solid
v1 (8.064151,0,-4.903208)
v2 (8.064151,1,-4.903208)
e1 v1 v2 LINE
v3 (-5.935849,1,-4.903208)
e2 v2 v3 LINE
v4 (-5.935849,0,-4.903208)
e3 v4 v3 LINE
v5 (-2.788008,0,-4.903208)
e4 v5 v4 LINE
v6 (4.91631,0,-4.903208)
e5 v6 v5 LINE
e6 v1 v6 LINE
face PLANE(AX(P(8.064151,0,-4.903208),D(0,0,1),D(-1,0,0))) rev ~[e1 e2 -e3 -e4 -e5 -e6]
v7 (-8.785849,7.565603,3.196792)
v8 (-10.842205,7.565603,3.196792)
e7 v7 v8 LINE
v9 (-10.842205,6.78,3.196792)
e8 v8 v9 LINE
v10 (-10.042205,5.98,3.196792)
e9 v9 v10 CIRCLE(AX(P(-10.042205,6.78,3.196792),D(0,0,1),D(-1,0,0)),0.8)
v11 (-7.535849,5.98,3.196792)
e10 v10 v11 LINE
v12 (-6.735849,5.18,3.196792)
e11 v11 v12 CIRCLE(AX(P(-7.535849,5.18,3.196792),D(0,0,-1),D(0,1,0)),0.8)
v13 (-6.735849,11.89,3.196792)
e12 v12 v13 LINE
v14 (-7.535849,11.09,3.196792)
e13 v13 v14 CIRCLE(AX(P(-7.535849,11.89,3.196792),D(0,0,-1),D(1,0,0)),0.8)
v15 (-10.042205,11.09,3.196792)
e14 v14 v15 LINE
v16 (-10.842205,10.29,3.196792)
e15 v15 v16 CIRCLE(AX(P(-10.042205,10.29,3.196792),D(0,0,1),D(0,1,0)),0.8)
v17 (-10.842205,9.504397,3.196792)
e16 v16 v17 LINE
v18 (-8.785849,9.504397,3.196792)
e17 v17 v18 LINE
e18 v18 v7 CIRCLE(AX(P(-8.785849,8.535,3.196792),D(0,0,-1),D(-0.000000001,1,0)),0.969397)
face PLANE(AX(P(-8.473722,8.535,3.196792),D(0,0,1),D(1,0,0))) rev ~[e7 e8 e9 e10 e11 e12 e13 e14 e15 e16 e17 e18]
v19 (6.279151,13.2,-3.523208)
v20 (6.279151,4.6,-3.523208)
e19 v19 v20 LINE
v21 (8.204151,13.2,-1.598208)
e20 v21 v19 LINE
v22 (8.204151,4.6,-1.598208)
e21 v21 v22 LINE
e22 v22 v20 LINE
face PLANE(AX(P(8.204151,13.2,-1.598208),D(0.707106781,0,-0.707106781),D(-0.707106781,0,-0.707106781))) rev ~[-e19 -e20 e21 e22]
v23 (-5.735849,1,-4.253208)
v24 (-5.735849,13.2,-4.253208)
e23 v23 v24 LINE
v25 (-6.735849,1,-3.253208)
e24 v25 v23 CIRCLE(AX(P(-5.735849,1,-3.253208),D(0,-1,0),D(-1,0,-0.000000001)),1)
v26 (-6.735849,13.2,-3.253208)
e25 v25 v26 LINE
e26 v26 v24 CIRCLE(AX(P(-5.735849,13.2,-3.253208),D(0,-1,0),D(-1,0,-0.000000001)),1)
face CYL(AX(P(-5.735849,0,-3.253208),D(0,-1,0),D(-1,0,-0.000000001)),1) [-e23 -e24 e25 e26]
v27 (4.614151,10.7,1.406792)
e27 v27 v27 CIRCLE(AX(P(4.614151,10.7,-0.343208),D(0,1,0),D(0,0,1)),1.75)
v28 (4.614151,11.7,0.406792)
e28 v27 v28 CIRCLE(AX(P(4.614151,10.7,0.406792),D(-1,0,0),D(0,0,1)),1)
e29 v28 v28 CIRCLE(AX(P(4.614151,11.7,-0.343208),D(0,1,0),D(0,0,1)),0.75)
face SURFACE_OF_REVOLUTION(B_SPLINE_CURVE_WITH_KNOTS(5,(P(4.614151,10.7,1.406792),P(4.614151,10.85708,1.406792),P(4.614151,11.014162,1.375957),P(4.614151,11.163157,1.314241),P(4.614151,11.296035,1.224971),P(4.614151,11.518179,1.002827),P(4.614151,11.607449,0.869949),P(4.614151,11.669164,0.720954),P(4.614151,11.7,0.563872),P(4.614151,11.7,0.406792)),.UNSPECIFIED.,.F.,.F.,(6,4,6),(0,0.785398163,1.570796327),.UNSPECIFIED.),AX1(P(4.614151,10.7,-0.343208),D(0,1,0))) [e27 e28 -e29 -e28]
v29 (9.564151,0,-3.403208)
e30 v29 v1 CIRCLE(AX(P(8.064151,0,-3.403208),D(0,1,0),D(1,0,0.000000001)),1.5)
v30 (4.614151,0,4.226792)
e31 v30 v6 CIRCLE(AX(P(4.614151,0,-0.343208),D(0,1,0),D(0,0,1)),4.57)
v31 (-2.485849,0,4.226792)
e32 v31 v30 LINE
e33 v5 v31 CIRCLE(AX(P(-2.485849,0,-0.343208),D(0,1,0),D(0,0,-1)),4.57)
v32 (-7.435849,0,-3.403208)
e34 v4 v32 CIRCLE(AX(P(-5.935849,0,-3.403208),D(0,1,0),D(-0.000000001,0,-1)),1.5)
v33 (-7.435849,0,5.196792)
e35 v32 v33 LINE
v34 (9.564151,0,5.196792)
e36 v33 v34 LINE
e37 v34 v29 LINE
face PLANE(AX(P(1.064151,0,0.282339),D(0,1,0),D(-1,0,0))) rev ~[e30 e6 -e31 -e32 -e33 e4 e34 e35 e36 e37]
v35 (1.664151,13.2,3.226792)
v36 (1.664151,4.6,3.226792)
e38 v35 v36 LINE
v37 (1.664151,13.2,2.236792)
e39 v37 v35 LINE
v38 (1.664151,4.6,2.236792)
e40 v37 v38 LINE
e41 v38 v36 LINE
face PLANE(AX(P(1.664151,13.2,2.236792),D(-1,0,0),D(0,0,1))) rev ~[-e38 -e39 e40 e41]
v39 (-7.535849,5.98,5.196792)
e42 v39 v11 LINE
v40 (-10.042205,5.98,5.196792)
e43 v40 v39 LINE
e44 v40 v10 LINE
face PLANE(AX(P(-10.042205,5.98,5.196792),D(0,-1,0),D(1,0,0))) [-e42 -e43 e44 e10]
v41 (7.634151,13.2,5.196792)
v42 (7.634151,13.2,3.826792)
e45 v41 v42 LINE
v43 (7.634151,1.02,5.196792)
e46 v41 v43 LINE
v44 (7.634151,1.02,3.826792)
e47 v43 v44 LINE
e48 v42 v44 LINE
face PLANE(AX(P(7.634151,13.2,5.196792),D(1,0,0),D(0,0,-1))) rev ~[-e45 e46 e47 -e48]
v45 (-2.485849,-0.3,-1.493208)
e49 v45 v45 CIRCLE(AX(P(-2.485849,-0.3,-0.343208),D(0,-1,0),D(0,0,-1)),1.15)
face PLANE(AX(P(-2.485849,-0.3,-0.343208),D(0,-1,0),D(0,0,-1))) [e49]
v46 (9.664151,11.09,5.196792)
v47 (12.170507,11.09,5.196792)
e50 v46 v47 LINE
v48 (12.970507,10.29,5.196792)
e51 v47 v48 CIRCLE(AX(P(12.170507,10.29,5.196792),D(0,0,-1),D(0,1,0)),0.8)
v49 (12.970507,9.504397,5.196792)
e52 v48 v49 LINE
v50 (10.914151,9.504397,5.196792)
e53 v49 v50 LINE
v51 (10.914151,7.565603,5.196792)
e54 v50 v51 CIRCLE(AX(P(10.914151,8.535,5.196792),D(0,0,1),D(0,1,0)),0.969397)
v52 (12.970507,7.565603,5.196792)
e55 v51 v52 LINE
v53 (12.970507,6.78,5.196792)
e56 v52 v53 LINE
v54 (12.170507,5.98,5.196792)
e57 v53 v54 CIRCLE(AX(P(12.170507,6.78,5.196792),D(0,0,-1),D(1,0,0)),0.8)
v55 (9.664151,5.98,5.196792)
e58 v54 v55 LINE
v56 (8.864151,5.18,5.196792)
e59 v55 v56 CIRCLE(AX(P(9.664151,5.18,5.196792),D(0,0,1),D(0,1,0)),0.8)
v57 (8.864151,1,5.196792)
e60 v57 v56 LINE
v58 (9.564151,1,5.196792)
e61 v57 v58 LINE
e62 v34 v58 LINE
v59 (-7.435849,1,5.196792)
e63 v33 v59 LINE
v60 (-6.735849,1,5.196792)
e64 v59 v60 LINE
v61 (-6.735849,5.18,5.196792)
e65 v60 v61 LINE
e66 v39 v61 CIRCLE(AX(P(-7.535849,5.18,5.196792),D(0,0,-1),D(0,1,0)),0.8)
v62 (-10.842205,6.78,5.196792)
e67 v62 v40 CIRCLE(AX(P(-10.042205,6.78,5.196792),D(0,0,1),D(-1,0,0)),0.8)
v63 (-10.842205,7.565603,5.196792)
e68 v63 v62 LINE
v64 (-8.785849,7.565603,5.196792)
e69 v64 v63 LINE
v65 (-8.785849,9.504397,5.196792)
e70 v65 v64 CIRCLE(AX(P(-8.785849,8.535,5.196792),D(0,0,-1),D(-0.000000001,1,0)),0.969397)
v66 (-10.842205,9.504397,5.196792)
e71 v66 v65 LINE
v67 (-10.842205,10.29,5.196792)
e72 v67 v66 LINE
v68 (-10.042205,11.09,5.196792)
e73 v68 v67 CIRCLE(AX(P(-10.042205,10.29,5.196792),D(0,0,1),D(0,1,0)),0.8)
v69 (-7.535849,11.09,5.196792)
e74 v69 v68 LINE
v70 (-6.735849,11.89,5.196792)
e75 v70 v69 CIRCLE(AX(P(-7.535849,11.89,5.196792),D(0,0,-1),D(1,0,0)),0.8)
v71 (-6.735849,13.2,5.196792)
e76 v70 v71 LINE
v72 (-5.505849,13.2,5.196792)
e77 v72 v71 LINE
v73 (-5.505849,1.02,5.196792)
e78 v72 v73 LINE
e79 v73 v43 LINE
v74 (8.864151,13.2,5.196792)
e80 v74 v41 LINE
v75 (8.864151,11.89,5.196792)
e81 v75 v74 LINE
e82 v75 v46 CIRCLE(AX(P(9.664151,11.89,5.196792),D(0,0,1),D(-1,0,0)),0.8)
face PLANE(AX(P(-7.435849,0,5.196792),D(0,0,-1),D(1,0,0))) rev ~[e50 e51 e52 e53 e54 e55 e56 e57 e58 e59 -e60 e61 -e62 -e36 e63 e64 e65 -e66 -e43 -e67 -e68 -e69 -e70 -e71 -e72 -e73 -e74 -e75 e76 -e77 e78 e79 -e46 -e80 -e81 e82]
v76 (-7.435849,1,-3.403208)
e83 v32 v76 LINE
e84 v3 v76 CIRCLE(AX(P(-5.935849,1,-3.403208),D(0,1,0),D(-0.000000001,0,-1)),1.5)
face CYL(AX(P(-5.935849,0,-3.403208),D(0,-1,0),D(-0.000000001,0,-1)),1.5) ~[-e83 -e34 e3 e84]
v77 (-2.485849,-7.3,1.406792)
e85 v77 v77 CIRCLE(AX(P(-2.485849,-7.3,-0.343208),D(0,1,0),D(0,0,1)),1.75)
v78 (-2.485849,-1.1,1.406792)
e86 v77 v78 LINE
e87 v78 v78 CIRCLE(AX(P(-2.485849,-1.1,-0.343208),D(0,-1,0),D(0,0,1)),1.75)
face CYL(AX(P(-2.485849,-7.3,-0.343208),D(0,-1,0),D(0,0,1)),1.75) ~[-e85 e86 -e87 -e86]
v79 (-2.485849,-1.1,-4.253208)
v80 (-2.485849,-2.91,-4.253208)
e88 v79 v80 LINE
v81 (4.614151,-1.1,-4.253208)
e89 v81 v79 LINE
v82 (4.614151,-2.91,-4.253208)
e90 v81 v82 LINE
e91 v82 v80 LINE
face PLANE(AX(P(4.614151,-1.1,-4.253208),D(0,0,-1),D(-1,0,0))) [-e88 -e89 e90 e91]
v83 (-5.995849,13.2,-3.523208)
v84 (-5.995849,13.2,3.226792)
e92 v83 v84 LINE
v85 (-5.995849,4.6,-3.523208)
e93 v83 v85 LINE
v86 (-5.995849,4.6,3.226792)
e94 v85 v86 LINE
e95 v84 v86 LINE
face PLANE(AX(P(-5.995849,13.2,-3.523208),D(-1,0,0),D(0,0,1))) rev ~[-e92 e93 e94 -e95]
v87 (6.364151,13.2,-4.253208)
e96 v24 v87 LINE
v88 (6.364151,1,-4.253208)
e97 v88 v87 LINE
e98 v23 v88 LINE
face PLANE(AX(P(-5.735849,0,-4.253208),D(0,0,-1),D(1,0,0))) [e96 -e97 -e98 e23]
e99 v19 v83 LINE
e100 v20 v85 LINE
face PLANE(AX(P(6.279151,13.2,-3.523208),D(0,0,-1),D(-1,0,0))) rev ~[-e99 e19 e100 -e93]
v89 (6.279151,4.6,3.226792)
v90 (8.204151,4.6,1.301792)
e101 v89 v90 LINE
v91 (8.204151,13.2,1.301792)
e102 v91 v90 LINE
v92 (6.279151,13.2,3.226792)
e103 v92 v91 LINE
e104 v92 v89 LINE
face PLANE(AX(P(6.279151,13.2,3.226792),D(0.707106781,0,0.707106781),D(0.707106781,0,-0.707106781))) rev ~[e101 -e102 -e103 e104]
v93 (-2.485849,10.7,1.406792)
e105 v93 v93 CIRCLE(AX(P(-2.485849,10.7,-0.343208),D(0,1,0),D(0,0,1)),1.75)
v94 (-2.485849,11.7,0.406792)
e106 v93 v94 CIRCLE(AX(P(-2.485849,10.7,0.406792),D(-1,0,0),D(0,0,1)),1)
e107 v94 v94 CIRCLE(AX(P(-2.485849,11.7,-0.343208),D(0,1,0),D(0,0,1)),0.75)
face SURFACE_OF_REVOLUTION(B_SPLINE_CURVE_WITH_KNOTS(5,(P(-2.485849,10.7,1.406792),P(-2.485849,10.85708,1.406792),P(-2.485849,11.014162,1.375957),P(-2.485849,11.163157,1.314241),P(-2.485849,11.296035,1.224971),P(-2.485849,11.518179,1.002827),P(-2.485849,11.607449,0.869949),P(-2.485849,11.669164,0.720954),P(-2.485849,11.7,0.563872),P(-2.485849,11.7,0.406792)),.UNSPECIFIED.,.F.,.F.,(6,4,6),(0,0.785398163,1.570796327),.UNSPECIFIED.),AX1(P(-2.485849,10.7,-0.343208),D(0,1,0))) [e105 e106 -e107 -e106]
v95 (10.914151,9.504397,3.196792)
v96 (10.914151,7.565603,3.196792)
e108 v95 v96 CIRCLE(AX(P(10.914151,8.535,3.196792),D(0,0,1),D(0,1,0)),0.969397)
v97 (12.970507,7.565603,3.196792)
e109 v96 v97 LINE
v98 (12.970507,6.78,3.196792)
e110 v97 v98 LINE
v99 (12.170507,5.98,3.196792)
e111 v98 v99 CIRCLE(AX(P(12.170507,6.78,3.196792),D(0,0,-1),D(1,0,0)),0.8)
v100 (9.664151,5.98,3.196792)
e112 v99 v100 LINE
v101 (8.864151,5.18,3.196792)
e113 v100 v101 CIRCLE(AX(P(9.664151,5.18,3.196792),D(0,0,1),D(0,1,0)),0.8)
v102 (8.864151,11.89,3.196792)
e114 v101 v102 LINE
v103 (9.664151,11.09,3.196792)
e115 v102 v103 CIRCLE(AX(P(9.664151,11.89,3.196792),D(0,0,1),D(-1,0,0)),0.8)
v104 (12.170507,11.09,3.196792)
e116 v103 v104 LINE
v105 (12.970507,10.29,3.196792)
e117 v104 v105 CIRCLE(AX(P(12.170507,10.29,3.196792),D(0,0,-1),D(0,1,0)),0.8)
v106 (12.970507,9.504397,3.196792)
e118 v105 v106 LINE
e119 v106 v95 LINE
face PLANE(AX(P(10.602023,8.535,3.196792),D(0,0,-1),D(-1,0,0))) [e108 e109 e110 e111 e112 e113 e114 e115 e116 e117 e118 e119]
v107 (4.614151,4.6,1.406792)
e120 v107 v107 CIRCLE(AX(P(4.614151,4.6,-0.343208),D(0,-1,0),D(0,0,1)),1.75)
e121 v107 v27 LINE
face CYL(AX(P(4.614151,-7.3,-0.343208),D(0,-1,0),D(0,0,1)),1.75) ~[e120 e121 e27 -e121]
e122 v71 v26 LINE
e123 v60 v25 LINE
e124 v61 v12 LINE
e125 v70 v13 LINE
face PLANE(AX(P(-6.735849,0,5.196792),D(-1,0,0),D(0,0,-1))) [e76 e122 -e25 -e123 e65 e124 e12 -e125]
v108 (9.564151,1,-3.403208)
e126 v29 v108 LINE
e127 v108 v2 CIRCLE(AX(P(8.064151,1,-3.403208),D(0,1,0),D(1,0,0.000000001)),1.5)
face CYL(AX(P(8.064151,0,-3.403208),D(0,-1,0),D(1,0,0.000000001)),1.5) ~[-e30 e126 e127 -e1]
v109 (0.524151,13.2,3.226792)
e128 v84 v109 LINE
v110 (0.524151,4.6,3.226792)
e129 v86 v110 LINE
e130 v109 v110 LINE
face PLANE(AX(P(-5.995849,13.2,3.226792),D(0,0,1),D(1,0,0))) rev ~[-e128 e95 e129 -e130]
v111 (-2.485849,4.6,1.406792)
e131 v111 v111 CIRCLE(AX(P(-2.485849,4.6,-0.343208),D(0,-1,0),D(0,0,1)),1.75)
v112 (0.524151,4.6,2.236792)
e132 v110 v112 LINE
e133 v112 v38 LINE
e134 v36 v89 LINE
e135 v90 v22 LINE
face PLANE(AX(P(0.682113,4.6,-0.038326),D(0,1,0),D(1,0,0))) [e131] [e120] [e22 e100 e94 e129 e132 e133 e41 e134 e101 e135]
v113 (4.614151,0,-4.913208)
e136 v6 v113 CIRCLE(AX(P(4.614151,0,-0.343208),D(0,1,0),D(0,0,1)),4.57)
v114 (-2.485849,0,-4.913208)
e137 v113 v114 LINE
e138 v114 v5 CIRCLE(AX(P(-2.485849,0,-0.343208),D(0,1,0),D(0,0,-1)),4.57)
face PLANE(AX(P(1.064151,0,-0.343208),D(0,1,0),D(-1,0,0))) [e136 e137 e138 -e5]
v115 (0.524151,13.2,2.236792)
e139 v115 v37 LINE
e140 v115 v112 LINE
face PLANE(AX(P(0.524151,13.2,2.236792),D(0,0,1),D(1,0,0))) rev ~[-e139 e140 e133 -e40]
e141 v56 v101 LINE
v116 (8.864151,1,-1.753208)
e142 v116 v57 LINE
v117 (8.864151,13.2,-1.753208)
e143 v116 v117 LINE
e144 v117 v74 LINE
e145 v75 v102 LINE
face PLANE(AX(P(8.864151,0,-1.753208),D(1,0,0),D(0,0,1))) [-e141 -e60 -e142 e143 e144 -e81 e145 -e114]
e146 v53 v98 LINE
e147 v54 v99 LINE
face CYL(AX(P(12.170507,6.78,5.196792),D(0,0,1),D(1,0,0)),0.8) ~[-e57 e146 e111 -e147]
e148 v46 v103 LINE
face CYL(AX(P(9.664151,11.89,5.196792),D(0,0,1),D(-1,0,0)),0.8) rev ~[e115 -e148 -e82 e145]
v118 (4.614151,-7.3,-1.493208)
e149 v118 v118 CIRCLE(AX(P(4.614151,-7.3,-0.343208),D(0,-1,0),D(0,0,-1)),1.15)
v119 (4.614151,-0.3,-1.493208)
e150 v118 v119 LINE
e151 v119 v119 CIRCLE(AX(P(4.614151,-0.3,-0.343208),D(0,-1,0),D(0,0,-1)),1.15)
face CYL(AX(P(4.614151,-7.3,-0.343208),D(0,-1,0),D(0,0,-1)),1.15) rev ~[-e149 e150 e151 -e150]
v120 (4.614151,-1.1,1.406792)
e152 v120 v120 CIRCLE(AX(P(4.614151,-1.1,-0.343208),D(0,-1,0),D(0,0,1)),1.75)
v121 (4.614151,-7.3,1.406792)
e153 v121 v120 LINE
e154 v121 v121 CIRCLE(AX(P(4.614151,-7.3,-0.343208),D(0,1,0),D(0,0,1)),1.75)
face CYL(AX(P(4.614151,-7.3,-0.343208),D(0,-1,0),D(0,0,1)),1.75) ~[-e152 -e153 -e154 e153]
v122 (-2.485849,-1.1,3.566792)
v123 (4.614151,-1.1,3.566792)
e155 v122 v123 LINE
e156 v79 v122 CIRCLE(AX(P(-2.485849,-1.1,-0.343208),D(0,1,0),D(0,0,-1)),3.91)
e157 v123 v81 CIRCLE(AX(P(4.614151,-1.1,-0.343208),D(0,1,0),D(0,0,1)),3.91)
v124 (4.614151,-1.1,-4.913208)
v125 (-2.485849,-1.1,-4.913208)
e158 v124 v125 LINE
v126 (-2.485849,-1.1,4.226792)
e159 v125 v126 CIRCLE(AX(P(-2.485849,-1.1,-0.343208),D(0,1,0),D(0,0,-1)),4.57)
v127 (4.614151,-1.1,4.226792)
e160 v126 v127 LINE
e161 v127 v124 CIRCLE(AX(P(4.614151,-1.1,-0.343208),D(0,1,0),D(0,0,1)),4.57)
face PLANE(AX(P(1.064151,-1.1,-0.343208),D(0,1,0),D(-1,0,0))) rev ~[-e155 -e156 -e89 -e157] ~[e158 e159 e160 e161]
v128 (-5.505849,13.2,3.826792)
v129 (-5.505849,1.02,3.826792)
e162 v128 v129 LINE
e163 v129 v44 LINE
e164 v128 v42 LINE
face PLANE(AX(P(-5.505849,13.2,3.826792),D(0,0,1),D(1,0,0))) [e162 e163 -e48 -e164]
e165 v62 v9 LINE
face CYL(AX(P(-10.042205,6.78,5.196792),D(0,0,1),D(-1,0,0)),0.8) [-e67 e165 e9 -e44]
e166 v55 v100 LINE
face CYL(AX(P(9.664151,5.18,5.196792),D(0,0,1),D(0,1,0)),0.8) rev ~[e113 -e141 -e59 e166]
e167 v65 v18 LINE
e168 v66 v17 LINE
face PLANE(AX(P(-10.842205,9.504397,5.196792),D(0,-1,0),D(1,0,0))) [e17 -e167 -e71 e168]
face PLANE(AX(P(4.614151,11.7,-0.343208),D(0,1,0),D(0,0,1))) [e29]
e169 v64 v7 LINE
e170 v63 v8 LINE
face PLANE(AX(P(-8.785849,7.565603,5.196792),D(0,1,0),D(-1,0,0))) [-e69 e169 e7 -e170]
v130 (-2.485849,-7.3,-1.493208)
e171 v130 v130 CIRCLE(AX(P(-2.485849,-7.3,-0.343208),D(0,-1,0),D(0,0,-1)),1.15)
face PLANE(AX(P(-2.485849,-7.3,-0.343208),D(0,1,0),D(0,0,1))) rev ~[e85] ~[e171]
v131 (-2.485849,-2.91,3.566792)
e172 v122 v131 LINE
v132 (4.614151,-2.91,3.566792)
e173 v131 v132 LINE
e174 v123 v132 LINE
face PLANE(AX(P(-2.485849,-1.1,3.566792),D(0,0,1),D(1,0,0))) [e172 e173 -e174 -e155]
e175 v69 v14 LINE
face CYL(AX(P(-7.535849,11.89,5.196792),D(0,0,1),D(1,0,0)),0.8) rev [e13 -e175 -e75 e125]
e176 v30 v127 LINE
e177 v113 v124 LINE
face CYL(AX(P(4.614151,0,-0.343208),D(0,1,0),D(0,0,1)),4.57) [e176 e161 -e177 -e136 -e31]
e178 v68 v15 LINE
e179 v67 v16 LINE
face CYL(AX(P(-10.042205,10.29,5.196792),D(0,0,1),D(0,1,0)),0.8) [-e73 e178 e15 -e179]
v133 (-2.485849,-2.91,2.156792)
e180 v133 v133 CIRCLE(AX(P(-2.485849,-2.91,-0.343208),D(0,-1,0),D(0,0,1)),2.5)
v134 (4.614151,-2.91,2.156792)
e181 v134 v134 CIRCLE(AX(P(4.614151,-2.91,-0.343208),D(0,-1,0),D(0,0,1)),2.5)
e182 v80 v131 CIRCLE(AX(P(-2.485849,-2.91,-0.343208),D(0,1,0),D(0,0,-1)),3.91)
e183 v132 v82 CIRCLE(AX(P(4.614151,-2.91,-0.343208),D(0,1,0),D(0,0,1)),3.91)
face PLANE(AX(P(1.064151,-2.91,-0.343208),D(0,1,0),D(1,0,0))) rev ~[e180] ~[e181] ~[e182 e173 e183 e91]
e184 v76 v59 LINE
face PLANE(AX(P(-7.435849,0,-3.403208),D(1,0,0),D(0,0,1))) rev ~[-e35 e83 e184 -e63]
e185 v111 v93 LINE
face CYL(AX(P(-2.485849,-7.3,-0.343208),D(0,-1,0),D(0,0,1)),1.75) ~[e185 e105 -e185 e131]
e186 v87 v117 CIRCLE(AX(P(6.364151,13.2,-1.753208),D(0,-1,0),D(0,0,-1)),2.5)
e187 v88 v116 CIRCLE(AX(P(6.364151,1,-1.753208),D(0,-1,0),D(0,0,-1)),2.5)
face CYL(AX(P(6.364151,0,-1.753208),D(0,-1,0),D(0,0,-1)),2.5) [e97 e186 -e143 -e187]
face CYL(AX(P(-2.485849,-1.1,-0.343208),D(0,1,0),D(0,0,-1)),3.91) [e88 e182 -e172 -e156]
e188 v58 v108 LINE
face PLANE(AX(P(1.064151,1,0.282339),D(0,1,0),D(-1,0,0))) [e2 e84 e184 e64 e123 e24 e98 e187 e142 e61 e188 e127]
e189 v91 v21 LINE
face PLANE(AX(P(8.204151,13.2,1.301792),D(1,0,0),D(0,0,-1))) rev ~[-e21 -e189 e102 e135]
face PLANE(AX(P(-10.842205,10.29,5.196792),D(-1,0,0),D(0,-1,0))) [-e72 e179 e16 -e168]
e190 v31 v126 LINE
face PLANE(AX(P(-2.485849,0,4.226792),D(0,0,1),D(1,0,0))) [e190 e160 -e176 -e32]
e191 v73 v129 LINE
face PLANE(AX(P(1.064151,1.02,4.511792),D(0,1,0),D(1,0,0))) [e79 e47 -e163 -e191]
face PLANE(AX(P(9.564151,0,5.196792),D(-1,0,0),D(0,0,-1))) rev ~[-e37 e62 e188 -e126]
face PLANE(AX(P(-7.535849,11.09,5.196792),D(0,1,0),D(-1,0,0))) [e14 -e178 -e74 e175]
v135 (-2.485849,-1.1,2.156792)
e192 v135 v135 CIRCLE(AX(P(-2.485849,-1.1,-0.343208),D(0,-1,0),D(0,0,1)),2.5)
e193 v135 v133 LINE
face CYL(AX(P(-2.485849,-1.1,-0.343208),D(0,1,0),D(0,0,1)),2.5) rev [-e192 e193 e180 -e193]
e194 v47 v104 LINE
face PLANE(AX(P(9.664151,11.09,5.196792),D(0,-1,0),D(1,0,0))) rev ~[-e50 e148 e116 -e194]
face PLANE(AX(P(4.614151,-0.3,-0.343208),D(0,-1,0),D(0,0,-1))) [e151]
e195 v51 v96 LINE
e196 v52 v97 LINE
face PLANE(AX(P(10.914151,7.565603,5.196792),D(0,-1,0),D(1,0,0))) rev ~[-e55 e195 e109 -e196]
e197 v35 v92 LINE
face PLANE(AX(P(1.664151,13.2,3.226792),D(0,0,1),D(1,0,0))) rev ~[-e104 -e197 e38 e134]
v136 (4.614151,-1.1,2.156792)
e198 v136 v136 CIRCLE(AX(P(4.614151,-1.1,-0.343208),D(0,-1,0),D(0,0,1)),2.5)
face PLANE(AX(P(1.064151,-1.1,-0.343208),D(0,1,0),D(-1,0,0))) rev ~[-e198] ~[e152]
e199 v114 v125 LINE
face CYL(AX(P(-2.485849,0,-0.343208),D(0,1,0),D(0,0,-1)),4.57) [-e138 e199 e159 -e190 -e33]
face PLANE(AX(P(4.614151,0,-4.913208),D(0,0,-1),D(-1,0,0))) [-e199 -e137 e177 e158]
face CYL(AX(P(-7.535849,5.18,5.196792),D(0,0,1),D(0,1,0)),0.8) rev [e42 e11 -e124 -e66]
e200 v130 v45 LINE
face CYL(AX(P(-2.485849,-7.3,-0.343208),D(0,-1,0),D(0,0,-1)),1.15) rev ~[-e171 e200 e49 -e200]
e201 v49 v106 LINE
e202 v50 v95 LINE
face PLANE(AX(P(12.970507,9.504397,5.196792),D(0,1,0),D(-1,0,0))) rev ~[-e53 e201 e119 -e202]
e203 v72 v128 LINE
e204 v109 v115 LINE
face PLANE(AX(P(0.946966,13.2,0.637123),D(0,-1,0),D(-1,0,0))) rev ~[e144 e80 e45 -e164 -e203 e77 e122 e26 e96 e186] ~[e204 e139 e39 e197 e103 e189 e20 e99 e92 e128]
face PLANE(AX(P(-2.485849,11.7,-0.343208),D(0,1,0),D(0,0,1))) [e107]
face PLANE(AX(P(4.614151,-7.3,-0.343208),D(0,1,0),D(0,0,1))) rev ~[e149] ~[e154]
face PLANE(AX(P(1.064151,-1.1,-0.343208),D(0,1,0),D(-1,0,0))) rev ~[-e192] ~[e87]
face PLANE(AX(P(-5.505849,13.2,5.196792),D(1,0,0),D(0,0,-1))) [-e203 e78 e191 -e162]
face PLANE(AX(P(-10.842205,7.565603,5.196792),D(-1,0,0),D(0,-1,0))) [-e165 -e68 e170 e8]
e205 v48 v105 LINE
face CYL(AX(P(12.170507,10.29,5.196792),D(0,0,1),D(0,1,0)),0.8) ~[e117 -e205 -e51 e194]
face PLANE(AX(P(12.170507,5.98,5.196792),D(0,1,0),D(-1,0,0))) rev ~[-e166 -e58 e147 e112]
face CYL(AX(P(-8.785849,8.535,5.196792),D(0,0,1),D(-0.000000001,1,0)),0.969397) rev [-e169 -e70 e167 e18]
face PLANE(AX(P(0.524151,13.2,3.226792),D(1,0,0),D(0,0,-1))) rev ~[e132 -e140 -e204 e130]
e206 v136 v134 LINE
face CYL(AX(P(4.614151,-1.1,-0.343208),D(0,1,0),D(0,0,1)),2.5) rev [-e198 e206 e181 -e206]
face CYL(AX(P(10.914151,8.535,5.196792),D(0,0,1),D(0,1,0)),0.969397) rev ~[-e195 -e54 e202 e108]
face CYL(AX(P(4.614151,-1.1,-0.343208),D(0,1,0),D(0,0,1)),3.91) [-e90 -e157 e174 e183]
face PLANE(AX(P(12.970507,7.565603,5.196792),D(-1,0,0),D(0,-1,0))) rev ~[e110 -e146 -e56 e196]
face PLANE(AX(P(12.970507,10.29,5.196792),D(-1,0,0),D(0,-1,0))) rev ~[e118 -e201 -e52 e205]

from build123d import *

# Parameters (mm, degrees)
BOSS_EXTRUDE1_DEPTH        = 13.2
CUT_EXTRUDE1_DEPTH         = 8.6
BOSS_EXTRUDE2_DEPTH        = 7.1
BOSS_EXTRUDE2_DEPTH_BACK   = 11.9
SKETCH3_R                  = 1.75
BOSS_EXTRUDE2_2_DEPTH      = 7.1
BOSS_EXTRUDE2_2_DEPTH_BACK = 11.9
SKETCH4_W                  = 13.14
SKETCH4_H                  = 1.37
CUT_EXTRUDE2_DEPTH         = 12.18
BOSS_EXTRUDE3_DEPTH        = 1
BOSS_EXTRUDE4_DEPTH        = 1.1
SKETCH7_R                  = 2.5
BOSS_EXTRUDE5_DEPTH        = 1.81
SKETCH8_R                  = 1.15
CUT_EXTRUDE3_DEPTH         = 7
BOSS_EXTRUDE6_DEPTH        = 2
FILLET1_R                  = 1


with BuildPart() as part:
    # Sketch1 → Boss-Extrude1 (new body)
    with BuildSketch(Plane(origin=(0, 0, 0), x_dir=(1, 0, 0), z_dir=(0, 1, 0))):
        with BuildLine():
            Line((8.864150943, 1.753207547), (8.864150943, -5.196792453))
            Line((8.864150943, -5.196792453), (-6.735849057, -5.196792453))
            Line((-6.735849057, -5.196792453), (-6.735849057, 3.253207547))
            ThreePointArc((-6.735849057, 3.253207547), (-6.442955838, 3.960314328), (-5.735849057, 4.253207547))
            Line((-5.735849057, 4.253207547), (6.364150943, 4.253207547))
            ThreePointArc((6.364150943, 4.253207547), (8.131917896, 3.5209745), (8.864150943, 1.753207547))
        make_face()
    extrude(amount=BOSS_EXTRUDE1_DEPTH)

    # Sketch2 → Cut-Extrude1 (cut)
    with BuildSketch(Plane(origin=(0, 13.2, 0), x_dir=(1, 0, 0), z_dir=(0, 1, 0))):
        Polygon((-5.995849057, 3.523207547), (-5.995849057, -3.226792453), (0.524150943, -3.226792453), (0.524150943, -2.236792453), (1.664150943, -2.236792453), (1.664150943, -3.226792453), (6.279150943, -3.226792453), (8.204150943, -1.301792453), (8.204150943, 1.598207547), (6.279150943, 3.523207547), align=None)
    extrude(amount=-CUT_EXTRUDE1_DEPTH, mode=Mode.SUBTRACT)

    # Sketch4 → Cut-Extrude2 (cut)
    with BuildSketch(Plane(origin=(0, 13.2, 0), x_dir=(1, 0, 0), z_dir=(0, 1, 0))):
        with Locations((1.064150943, -4.511792453)):
            Rectangle(SKETCH4_W, SKETCH4_H)
    extrude(amount=-CUT_EXTRUDE2_DEPTH, mode=Mode.SUBTRACT)



with BuildPart() as body_2:
    # Sketch3 → Boss-Extrude2 (new, two sides: drawn at the far end of the back side and taken through both)
    with BuildSketch(Plane(origin=(0, 4.6, 0), x_dir=(1, 0, 0), z_dir=(0, 1, 0)).offset(-BOSS_EXTRUDE2_DEPTH_BACK)):
        with Locations(Location((-2.485849057, 0.343207547, 0), (0, 0, 270))):
            Circle(SKETCH3_R)
    extrude(amount=BOSS_EXTRUDE2_DEPTH + BOSS_EXTRUDE2_DEPTH_BACK)


with BuildPart() as body_3:
    # Sketch3 → Boss-Extrude2 2 (new, two sides: drawn at the far end of the back side and taken through both)
    with BuildSketch(Plane(origin=(0, 4.6, 0), x_dir=(1, 0, 0), z_dir=(0, 1, 0)).offset(-BOSS_EXTRUDE2_2_DEPTH_BACK)):
        with Locations(Location((4.614150943, 0.343207547, 0), (0, 0, 270))):
            Circle(SKETCH3_R)
    extrude(amount=BOSS_EXTRUDE2_2_DEPTH + BOSS_EXTRUDE2_2_DEPTH_BACK)


with BuildPart() as part_1:
    add(part.part)

    add(body_2.part)  # Boss-Extrude3 merges body 2

    add(body_3.part)  # Boss-Extrude3 merges body 3
    # Sketch5 → Boss-Extrude3 (add)
    with BuildSketch(Plane.XZ):
        with BuildLine():
            Line((-7.435849057, 5.196792453), (9.564150943, 5.196792453))
            Line((9.564150943, 5.196792453), (9.564150943, -3.403207547))
            ThreePointArc((9.564150943, -3.403207547), (9.124811115, -4.463867719), (8.064150943, -4.903207547))
            Line((8.064150943, -4.903207547), (-5.935849057, -4.903207547))
            ThreePointArc((-5.935849057, -4.903207547), (-6.996509228, -4.463867719), (-7.435849057, -3.403207547))
            Line((-7.435849057, -3.403207547), (-7.435849057, 5.196792453))
        make_face()
    extrude(amount=-BOSS_EXTRUDE3_DEPTH)

    # Sketch6 → Boss-Extrude4 (add)
    with BuildSketch(Plane.XZ):
        with BuildLine():
            Line((-2.485849057, 4.226792453), (4.614150943, 4.226792453))
            ThreePointArc((4.614150943, 4.226792453), (9.184150943, -0.343207547), (4.614150943, -4.913207547))
            Line((4.614150943, -4.913207547), (-2.485849057, -4.913207547))
            ThreePointArc((-2.485849057, -4.913207547), (-7.055849057, -0.343207547), (-2.485849057, 4.226792453))
        make_face()
    extrude(amount=BOSS_EXTRUDE4_DEPTH)

    # Sketch7 → Boss-Extrude5 (add)
    with BuildSketch(Plane(origin=(0, -1.1, 0), x_dir=(-1, 0, 0), z_dir=(0, -1, 0))):
        with BuildLine():
            Line((2.485849057, -3.566792453), (-4.614150943, -3.566792453))
            ThreePointArc((-4.614150943, -3.566792453), (-8.524150943, 0.343207547), (-4.614150943, 4.253207547))
            Line((-4.614150943, 4.253207547), (2.485849057, 4.253207547))
            ThreePointArc((2.485849057, 4.253207547), (6.395849057, 0.343207547), (2.485849057, -3.566792453))
        make_face()
        with Locations(Location((2.485849057, 0.343207547, 0), (0, 0, 270))):
            Circle(SKETCH7_R, mode=Mode.SUBTRACT)
        with Locations(Location((-4.614150943, 0.343207547, 0), (0, 0, 270))):
            Circle(SKETCH7_R, mode=Mode.SUBTRACT)
    extrude(amount=BOSS_EXTRUDE5_DEPTH)

    # Sketch8 → Cut-Extrude3 (cut)
    with BuildSketch(Plane.XZ.offset(7.3)):
        with Locations(Location((4.614150943, -0.343207547, 0), (0, 0, 270))):
            Circle(SKETCH8_R)
        with Locations(Location((-2.485849057, -0.343207547, 0), (0, 0, 270))):
            Circle(SKETCH8_R)
    extrude(amount=-CUT_EXTRUDE3_DEPTH, mode=Mode.SUBTRACT)

    # Sketch9 → Boss-Extrude6 (add)
    with BuildSketch(Plane.XY.offset(5.196792453)):
        with BuildLine():
            Line((-7.535849057, 11.09), (-10.042204833, 11.09))
            ThreePointArc((-10.042204833, 11.09), (-10.607890258, 10.855685425), (-10.842204833, 10.29))
            Line((-10.842204833, 10.29), (-10.842204833, 9.50439657))
            Line((-10.842204833, 9.50439657), (-8.785849057, 9.50439657))
            ThreePointArc((-8.785849057, 9.50439657), (-7.816452486, 8.535), (-8.785849057, 7.56560343))
            Line((-8.785849057, 7.56560343), (-10.842204833, 7.56560343))
            Line((-10.842204833, 7.56560343), (-10.842204833, 6.78))
            ThreePointArc((-10.842204833, 6.78), (-10.607890258, 6.214314575), (-10.042204833, 5.98))
            Line((-10.042204833, 5.98), (-7.535849057, 5.98))
            ThreePointArc((-7.535849057, 5.98), (-6.970163632, 5.745685425), (-6.735849057, 5.18))
            Line((-6.735849057, 5.18), (-6.735849057, 11.89))
            ThreePointArc((-6.735849057, 11.89), (-6.970163632, 11.324314575), (-7.535849057, 11.09))
        make_face()
        with BuildLine():
            Line((12.97050672, 7.56560343), (12.97050672, 6.78))
            ThreePointArc((12.97050672, 6.78), (12.736192145, 6.214314575), (12.17050672, 5.98))
            Line((12.17050672, 5.98), (9.664150943, 5.98))
            ThreePointArc((9.664150943, 5.98), (9.098465518, 5.745685425), (8.864150943, 5.18))
            Line((8.864150943, 5.18), (8.864150943, 11.89))
            ThreePointArc((8.864150943, 11.89), (9.098465518, 11.324314575), (9.664150943, 11.09))
            Line((9.664150943, 11.09), (12.17050672, 11.09))
            ThreePointArc((12.17050672, 11.09), (12.736192145, 10.855685425), (12.97050672, 10.29))
            Line((12.97050672, 10.29), (12.97050672, 9.50439657))
            Line((12.97050672, 9.50439657), (10.914150943, 9.50439657))
            ThreePointArc((10.914150943, 9.50439657), (9.944754373, 8.535), (10.914150943, 7.56560343))
            Line((10.914150943, 7.56560343), (12.97050672, 7.56560343))
        make_face()
    extrude(amount=-BOSS_EXTRUDE6_DEPTH)

    # Fillet1
    fillet1_edges = [part_1.edges().sort_by_distance(p)[0] for p in [
        (-2.485849057, 11.7, -2.093207547),
        (4.614150943, 11.7, -2.093207547),
    ]]
    fillet(fillet1_edges, radius=FILLET1_R)


solid = part_1.part
